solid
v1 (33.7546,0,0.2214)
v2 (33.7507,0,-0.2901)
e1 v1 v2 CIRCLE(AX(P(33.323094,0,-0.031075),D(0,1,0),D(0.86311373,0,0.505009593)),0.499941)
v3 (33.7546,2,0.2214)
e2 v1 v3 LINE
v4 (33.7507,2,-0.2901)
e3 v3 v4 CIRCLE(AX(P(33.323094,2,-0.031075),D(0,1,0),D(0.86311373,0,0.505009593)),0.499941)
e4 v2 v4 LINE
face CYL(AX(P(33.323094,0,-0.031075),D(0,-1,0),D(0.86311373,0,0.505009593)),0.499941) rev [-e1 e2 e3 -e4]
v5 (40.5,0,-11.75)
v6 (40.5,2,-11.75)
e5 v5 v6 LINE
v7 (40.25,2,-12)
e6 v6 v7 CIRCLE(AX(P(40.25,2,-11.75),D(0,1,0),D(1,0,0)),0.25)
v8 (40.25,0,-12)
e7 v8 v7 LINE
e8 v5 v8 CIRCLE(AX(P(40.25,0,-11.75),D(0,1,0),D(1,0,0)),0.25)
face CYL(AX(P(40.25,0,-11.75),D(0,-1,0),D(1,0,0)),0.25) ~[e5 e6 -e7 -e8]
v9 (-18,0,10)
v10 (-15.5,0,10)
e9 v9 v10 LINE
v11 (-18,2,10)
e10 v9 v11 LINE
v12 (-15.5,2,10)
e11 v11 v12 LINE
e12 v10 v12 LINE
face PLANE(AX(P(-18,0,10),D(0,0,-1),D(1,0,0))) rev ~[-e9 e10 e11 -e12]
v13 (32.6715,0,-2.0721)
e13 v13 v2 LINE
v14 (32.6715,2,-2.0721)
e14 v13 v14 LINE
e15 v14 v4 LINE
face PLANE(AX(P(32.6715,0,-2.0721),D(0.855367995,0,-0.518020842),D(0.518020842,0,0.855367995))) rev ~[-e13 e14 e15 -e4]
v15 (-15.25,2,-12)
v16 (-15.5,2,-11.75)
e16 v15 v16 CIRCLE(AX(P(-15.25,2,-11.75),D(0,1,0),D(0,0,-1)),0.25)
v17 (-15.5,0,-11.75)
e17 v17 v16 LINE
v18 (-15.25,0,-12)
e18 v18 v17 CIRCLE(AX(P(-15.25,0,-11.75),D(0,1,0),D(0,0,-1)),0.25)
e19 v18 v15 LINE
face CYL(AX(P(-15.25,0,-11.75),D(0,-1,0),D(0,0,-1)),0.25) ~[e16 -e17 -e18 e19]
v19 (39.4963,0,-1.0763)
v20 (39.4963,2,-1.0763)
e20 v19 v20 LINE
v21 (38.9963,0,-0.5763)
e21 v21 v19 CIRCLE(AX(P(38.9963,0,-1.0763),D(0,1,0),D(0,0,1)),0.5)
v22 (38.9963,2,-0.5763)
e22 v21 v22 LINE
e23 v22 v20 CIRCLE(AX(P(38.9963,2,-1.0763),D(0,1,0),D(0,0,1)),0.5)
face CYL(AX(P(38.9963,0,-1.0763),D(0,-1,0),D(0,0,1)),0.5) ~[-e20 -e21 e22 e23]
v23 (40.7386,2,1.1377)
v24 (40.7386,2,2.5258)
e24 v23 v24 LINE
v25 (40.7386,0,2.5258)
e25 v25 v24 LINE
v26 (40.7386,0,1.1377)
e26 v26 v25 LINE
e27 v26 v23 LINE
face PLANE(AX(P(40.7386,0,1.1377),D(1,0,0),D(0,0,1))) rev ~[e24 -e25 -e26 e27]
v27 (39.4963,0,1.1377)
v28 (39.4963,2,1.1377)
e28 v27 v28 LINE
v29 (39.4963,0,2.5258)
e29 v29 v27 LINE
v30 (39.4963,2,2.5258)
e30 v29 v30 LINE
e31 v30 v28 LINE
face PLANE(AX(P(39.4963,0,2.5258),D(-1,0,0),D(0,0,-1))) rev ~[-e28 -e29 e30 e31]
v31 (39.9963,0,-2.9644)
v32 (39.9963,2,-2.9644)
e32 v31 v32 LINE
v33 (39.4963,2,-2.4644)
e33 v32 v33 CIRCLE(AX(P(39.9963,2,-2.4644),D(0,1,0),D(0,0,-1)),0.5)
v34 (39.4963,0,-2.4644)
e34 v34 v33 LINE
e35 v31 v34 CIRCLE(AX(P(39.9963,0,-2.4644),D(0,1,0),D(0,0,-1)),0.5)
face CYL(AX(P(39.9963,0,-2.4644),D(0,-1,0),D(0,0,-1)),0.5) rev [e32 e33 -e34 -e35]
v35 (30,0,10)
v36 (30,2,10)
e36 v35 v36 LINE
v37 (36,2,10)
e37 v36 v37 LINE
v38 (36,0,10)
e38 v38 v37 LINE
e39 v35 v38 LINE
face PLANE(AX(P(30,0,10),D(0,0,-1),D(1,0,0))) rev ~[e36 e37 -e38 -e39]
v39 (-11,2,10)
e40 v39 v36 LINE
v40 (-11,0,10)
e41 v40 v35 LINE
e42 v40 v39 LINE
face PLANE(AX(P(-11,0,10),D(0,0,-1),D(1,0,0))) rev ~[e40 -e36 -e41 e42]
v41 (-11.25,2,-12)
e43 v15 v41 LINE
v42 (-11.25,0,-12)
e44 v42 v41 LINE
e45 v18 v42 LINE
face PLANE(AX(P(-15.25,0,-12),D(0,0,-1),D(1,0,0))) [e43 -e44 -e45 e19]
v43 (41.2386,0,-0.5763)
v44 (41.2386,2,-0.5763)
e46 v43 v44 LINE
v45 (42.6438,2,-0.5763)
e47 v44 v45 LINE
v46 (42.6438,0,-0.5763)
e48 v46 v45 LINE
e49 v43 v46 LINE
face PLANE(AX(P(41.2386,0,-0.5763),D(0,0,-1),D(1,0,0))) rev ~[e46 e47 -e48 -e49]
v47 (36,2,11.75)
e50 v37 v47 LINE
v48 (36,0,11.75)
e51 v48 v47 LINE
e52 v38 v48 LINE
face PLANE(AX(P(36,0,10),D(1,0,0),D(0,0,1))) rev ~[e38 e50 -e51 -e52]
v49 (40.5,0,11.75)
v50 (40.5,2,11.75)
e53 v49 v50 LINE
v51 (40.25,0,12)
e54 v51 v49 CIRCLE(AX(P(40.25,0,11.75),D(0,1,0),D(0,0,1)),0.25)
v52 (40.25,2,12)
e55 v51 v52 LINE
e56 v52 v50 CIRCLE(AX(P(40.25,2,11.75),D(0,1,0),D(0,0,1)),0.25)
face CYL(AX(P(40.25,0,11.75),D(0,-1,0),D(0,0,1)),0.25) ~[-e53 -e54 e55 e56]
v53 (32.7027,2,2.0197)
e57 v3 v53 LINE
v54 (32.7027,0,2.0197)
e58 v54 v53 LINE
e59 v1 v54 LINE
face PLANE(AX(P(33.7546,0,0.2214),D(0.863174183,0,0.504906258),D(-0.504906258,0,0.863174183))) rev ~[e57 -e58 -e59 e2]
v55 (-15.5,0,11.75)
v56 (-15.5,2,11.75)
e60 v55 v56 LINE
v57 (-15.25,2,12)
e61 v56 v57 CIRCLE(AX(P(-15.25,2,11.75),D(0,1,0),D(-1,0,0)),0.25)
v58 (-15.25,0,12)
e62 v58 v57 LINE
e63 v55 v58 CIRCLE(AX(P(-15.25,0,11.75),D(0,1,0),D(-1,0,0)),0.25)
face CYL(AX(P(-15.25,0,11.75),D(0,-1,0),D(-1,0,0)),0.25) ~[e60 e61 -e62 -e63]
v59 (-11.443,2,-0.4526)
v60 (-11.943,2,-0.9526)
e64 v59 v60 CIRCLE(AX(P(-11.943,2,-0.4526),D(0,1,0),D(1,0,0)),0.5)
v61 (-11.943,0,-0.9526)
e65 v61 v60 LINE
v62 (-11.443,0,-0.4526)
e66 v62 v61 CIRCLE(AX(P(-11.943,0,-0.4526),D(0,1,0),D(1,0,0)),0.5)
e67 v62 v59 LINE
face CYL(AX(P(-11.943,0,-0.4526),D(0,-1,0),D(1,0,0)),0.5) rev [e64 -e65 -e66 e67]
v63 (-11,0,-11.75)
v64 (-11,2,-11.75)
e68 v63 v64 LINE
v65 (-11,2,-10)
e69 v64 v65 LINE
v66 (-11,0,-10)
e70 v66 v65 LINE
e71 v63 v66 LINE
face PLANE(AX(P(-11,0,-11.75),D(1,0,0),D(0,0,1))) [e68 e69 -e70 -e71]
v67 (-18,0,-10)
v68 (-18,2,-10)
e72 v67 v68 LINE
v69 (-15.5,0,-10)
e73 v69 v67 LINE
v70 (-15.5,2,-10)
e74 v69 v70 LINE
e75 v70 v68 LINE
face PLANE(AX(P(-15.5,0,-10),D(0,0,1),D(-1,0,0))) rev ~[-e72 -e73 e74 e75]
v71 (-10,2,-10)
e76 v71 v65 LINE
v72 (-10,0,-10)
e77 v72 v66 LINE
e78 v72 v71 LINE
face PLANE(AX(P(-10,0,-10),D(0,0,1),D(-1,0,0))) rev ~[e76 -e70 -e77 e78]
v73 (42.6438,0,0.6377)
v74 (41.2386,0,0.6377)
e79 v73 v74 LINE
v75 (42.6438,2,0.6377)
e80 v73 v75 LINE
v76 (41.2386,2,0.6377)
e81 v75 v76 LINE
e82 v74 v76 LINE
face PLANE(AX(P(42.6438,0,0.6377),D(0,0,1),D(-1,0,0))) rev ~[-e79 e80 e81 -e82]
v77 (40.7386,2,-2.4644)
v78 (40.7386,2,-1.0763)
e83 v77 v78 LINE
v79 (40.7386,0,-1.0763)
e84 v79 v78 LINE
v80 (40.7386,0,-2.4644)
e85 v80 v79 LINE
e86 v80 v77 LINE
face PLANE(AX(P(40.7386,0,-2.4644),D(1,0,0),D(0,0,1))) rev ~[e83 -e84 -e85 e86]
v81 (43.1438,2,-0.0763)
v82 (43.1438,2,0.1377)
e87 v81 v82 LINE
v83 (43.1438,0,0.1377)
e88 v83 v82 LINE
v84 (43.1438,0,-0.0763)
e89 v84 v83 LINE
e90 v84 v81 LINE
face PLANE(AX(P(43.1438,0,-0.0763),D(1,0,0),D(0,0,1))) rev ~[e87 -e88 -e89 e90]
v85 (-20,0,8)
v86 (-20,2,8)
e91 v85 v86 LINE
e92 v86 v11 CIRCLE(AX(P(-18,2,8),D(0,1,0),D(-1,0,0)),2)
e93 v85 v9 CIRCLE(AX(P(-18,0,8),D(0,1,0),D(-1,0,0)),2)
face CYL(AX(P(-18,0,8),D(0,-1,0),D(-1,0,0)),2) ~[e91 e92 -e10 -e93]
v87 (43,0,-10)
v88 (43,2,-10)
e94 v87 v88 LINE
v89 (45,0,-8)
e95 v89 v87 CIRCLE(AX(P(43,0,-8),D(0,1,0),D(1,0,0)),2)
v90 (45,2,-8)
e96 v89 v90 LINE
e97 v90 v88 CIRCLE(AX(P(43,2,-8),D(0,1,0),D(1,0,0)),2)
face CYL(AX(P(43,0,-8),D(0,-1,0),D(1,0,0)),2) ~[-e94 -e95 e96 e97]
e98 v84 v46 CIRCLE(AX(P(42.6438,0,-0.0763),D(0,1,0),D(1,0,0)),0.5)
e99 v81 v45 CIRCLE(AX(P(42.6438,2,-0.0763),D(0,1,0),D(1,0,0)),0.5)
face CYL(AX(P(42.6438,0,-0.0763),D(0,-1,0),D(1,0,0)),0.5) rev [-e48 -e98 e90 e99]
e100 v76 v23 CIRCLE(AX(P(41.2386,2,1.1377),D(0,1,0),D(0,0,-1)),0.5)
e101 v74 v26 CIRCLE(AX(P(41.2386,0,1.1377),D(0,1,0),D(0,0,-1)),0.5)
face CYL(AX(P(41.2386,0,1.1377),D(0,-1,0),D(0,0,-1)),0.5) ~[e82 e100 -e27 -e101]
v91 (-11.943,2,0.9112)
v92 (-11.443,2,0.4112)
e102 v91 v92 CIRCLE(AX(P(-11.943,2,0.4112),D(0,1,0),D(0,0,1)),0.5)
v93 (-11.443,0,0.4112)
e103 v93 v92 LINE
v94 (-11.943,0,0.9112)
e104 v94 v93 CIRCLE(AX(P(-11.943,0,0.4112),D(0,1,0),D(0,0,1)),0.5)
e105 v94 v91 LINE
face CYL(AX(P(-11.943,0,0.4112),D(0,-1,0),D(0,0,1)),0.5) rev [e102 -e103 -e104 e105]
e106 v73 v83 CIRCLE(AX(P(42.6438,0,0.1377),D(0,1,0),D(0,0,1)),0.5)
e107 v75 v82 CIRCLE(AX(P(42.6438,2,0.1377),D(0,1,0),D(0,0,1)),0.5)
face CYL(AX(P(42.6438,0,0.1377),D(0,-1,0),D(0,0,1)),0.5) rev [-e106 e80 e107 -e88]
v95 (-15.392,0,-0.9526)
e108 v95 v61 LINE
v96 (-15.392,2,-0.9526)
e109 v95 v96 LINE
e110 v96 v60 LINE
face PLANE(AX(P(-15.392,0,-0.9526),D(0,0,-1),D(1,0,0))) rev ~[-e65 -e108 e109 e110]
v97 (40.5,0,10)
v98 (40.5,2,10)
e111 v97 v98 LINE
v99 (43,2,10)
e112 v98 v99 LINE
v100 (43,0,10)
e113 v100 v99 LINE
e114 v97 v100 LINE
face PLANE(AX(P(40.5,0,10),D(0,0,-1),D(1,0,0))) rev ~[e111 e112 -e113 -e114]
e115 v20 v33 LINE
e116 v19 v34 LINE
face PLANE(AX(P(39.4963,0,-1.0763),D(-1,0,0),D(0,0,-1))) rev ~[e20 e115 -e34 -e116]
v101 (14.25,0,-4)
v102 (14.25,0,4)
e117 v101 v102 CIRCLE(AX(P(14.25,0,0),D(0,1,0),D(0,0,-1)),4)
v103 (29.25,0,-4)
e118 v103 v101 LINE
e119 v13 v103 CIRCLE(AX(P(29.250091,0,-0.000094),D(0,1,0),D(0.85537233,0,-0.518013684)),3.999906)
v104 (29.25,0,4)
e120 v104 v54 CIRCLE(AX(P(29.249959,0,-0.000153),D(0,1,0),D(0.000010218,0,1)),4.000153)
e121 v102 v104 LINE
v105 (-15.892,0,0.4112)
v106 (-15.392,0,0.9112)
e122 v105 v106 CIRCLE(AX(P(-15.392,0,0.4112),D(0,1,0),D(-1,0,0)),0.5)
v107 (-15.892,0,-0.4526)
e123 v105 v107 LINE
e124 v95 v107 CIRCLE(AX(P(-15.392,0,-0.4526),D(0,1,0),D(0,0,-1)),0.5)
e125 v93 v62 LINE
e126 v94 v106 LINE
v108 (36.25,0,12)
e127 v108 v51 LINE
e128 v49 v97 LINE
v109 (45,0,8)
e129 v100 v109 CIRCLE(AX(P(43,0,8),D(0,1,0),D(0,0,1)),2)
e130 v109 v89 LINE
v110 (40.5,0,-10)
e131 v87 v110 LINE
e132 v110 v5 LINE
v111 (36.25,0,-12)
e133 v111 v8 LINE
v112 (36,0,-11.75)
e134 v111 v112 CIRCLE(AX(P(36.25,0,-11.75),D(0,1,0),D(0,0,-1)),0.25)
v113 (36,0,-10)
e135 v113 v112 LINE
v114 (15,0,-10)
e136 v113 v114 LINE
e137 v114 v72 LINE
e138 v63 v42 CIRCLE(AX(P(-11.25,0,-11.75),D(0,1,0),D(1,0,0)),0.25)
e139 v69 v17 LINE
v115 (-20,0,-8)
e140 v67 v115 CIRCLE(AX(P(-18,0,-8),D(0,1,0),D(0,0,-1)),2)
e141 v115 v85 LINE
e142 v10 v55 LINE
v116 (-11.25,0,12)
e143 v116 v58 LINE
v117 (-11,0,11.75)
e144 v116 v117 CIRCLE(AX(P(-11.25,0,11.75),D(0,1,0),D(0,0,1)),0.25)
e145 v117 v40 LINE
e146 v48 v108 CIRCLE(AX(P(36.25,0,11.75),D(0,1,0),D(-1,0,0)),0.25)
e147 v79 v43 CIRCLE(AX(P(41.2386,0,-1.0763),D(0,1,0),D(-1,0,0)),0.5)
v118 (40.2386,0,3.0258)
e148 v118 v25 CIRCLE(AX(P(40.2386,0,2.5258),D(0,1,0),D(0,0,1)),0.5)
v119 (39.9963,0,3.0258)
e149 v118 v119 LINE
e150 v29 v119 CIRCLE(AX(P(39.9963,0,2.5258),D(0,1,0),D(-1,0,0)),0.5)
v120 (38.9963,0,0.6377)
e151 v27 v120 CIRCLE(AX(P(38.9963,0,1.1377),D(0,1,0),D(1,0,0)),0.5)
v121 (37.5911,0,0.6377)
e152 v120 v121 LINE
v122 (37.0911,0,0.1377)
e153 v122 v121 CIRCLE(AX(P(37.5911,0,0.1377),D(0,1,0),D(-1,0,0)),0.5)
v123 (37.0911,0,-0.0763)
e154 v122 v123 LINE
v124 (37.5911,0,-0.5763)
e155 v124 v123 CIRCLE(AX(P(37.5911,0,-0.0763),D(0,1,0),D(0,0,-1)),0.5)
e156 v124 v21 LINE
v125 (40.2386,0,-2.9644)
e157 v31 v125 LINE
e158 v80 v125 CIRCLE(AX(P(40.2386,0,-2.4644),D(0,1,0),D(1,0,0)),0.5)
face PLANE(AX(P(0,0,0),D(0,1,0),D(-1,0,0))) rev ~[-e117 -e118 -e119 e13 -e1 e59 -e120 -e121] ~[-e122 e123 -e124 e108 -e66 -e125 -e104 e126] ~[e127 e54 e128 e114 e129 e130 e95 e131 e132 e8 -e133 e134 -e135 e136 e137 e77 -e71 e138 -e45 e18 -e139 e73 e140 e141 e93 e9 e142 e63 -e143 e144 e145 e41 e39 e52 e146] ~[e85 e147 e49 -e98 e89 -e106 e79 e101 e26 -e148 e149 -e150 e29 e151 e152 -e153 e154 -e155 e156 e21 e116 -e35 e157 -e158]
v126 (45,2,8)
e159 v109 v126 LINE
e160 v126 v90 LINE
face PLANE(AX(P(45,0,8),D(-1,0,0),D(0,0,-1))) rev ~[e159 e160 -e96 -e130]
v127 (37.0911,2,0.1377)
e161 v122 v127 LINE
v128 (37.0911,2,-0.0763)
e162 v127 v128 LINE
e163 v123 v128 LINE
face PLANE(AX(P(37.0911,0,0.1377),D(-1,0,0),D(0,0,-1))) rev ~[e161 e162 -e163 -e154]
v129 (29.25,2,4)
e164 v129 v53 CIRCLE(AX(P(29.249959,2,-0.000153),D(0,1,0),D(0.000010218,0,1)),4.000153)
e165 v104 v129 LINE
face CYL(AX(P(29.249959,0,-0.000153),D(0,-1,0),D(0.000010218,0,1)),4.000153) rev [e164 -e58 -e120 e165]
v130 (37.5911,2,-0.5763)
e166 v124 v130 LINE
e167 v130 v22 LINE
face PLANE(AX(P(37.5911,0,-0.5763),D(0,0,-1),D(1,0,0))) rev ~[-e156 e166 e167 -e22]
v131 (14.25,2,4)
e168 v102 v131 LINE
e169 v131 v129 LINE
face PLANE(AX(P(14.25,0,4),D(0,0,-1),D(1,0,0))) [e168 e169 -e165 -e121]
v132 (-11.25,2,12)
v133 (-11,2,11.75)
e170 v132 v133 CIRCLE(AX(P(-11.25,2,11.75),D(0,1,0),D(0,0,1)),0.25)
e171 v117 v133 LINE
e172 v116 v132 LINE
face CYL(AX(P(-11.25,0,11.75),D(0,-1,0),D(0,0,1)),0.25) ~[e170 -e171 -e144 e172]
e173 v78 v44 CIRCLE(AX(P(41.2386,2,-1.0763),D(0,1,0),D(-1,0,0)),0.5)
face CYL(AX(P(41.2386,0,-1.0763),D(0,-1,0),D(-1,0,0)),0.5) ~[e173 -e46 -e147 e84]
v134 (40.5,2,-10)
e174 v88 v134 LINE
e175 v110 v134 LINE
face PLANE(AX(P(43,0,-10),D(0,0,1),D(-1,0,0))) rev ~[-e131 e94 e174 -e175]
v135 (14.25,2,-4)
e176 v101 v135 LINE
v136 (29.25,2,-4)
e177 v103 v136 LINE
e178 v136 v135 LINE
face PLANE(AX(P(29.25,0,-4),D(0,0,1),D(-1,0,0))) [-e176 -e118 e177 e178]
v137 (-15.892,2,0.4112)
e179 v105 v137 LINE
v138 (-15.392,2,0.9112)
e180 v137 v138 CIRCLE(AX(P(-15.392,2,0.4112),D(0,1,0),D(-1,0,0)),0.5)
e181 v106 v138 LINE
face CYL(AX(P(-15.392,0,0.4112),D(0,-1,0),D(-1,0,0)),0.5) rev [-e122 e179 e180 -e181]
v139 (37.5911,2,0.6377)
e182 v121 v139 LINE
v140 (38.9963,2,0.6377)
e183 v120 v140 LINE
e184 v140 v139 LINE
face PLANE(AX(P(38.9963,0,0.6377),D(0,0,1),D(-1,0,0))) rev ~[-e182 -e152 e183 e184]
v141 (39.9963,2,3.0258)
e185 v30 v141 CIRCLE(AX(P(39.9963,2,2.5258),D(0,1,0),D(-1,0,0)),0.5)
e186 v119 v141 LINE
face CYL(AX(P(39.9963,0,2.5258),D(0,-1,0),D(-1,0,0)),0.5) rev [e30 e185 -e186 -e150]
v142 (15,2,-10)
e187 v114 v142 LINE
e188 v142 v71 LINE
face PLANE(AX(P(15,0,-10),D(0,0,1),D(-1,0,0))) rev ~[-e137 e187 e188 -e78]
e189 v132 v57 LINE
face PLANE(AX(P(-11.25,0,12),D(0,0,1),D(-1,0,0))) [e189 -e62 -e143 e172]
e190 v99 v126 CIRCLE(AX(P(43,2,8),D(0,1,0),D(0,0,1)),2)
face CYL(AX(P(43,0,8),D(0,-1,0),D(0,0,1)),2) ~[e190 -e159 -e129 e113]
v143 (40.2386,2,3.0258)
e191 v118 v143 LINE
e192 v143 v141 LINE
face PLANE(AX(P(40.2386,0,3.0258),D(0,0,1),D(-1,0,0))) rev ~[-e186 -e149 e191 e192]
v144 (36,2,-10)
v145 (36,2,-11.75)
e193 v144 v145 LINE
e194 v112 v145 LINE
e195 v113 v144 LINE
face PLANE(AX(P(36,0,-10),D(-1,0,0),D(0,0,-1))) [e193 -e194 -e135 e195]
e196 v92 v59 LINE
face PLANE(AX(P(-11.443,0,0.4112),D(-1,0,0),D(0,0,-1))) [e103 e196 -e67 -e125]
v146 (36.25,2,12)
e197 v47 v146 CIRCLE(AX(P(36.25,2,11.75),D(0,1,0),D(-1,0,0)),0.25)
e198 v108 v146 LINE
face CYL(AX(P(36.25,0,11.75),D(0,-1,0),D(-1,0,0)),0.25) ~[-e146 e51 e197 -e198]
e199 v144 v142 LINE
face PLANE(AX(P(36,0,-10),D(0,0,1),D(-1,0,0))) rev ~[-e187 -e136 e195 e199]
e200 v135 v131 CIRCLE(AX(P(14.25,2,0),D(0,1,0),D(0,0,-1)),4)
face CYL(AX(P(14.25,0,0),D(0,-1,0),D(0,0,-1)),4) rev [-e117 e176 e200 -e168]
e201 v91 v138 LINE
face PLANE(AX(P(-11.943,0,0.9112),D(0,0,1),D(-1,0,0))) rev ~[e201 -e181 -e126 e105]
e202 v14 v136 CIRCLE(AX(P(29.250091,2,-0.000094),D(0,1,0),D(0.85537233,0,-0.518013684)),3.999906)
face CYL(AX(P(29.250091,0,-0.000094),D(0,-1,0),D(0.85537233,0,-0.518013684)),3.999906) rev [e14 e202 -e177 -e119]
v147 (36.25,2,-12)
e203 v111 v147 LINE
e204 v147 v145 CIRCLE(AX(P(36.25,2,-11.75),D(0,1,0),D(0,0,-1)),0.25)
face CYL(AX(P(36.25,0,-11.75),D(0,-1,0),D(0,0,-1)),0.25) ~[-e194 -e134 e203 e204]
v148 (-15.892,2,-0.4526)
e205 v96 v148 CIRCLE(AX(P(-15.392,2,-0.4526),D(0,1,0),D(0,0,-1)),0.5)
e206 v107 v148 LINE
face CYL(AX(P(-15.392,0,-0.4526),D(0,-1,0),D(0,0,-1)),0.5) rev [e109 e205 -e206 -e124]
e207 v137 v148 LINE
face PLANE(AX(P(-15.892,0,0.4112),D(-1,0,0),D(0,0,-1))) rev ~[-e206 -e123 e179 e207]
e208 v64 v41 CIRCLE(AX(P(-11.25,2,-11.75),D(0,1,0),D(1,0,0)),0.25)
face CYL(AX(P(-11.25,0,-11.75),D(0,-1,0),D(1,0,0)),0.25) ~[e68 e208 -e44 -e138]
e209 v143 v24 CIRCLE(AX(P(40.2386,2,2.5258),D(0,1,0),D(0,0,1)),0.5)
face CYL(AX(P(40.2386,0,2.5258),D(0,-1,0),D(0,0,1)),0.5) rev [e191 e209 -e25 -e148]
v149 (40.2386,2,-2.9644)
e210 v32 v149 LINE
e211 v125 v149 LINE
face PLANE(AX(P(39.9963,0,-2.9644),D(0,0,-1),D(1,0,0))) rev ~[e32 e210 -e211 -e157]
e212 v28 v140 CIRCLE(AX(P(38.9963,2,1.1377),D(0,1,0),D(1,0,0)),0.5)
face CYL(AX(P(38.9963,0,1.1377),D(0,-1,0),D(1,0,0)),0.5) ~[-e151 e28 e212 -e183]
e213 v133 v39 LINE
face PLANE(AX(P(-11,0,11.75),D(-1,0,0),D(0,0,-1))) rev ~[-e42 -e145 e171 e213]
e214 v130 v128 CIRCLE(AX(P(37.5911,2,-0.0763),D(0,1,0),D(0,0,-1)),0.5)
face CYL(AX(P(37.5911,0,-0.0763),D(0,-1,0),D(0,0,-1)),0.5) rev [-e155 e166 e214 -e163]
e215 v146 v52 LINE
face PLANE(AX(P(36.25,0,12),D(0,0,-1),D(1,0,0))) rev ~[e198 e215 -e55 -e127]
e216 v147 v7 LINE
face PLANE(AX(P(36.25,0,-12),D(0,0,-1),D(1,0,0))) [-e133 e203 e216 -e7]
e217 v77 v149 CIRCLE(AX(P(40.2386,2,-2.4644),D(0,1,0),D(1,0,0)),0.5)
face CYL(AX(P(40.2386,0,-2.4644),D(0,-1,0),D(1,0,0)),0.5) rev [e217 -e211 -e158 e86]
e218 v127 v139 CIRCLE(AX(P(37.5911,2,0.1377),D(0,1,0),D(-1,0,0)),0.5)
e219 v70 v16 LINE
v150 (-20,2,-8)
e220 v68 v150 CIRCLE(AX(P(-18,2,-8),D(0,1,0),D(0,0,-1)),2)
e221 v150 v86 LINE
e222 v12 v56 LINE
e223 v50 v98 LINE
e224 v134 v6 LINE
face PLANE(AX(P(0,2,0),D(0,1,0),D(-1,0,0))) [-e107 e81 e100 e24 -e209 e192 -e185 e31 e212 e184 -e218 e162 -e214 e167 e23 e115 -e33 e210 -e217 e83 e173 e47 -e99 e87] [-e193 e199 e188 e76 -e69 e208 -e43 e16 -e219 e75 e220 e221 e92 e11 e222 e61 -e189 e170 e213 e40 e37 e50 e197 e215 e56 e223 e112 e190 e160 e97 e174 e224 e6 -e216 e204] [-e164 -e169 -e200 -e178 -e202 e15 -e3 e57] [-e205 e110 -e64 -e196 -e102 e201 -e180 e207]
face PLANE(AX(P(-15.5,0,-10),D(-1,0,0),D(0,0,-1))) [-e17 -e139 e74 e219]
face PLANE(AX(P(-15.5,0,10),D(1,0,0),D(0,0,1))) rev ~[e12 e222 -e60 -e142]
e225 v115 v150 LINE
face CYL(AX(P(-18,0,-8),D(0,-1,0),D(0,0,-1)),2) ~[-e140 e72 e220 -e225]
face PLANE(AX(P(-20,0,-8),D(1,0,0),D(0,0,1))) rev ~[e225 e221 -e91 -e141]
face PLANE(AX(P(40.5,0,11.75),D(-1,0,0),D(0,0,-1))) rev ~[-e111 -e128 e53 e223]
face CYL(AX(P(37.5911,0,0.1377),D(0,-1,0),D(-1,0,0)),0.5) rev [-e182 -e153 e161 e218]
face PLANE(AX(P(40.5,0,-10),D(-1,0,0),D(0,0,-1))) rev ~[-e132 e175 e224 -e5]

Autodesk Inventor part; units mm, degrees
ref_plane "YZ Plane" through (0, 0, 0) normal (1, 0, 0) x (0, 1, 0)
ref_plane "XZ Plane" through (0, 0, 0) normal (0, 1, 0) x (-1, 0, 0)
ref_plane "XY Plane" through (0, 0, 0) normal (0, 0, 1) x (1, 0, 0)
sketch "Sketch1" plane through (0, 0, 0) normal (0, 1, 0) x (-1, 0, 0)
  line L0 (15.892, 0.4112) -> (15.892, -0.4526)
  line L1 (15.392, -0.9526) -> (11.943, -0.9526)
  line L2 (11.943, 0.9112) -> (15.392, 0.9112)
  line L3 (15.392, 0.9112) -> (11.943, 0.9112)
  line L4 (15.892, -0.4526) -> (15.892, 0.4112)
  line L5 (15.392, -0.9526) -> (11.943, -0.9526)
  line L6 (11.943, -0.9526) -> (15.392, -0.9526)
  line L7 (-39.4963, 2.5258) -> (-39.4963, 1.1377)
  line L8 (-39.4963, -1.0763) -> (-39.4963, -2.4644)
  line L9 (-42.6438, 0.6377) -> (-41.2386, 0.6377)
  line L10 (-38.9963, 0.6377) -> (-37.5911, 0.6377)
  line L11 (-40.7386, -2.4644) -> (-40.7386, -1.0763)
  line L12 (-40.7386, 1.1377) -> (-40.7386, 2.5258)
  line L13 (-37.5911, -0.5763) -> (-38.9963, -0.5763)
  line L14 (-41.2386, -0.5763) -> (-42.6438, -0.5763)
  line L15 (-37.0911, 0.1377) -> (-37.0911, -0.0763)
  line L16 (-39.9963, -2.9644) -> (-40.2386, -2.9644)
  line L17 (-43.1438, -0.0763) -> (-43.1438, 0.1377)
  line L18 (-40.2386, 3.0258) -> (-39.9963, 3.0258)
  arc A0 (-39.4963, 2.5258) -> (-39.9963, 3.0258) centre (-39.9963, 2.5258) ccw
  arc A1 (-40.2386, 3.0258) -> (-40.7386, 2.5258) centre (-40.2386, 2.5258) ccw
  arc A2 (-41.2386, 0.6377) -> (-40.7386, 1.1377) centre (-41.2386, 1.1377) ccw
  arc A3 (-42.6438, 0.6377) -> (-43.1438, 0.1377) centre (-42.6438, 0.1377) ccw
  arc A4 (-43.1438, -0.0763) -> (-42.6438, -0.5763) centre (-42.6438, -0.0763) ccw
  arc A5 (-40.7386, -1.0763) -> (-41.2386, -0.5763) centre (-41.2386, -1.0763) ccw
  arc A6 (-40.7386, -2.4644) -> (-40.2386, -2.9644) centre (-40.2386, -2.4644) ccw
  arc A7 (-39.9963, -2.9644) -> (-39.4963, -2.4644) centre (-39.9963, -2.4644) ccw
  arc A8 (-38.9963, -0.5763) -> (-39.4963, -1.0763) centre (-38.9963, -1.0763) ccw
  arc A9 (-39.4963, 1.1377) -> (-38.9963, 0.6377) centre (-38.9963, 1.1377) ccw
  arc A10 (-37.0911, 0.1377) -> (-37.5911, 0.6377) centre (-37.5911, 0.1377) ccw
  arc A11 (-37.5911, -0.5763) -> (-37.0911, -0.0763) centre (-37.5911, -0.0763) ccw
  line L19 (-45, 8) -> (-45, -8)
  line L20 (11.443, 0.4112) -> (11.443, -0.4526)
  arc A12 (15.392, -0.9526) -> (15.892, -0.4526) centre (15.392, -0.4526) ccw
  arc A13 (15.892, 0.4112) -> (15.392, 0.9112) centre (15.392, 0.4112) ccw
  arc A14 (11.943, 0.9112) -> (11.443, 0.4112) centre (11.943, 0.4112) ccw
  arc A15 (11.443, -0.4526) -> (11.943, -0.9526) centre (11.943, -0.4526) ccw
  arc A16 (-43, 10) -> (-45, 8) centre (-43, 8) ccw
  arc A17 (-45, -8) -> (-43, -10) centre (-43, -8) ccw
  line L21 (-29.25, -2) -> (-29.25, 2) construction
  line L22 (-15, -10) -> (11, -10)
  line L23 (15.5, -10) -> (18, -10)
  line L24 (18, 10) -> (15.5, 10)
  line L25 (11, 10) -> (-30, 10)
  line L26 (-15, -10) -> (10, -10)
  line L27 (-12.5, 7) -> (-12.5, 30.9822) construction
  line L28 (-12.5, -7) -> (-12.5, -36.1495) construction
  line L29 (-30, 10) -> (-36, 10)
  line L30 (-40.5, 10) -> (-43, 10)
  line L31 (-43, -10) -> (-40.5, -10)
  line L32 (-36, -10) -> (-15, -10)
  line L33 (-43.1438, 0) -> (-43.1438, -0.0763) construction
  line L34 (-43, -10) -> (-43, -10) construction
  line L35 (20, -8) -> (20, 8)
  arc A18 (18, -10) -> (20, -8) centre (18, -8) ccw
  arc A19 (20, 8) -> (18, 10) centre (18, 8) ccw
  line L36 (15.5, -10) -> (18, -10)
  line L37 (18, 10) -> (15.5, 10)
  line L38 (15.5, -10) -> (15.5, -11.75)
  line L39 (15.25, -12) -> (11.25, -12)
  line L40 (11, -11.75) -> (11, -10)
  line L41 (15.5, 10) -> (15.5, 11.75)
  line L42 (11, 11.75) -> (11, 10)
  line L43 (-36, 10) -> (-36, 11.75)
  line L44 (-36.25, 12) -> (-40.25, 12)
  line L45 (-40.5, 11.75) -> (-40.5, 10)
  line L46 (-36, -10) -> (-36, -11.75)
  line L47 (-36.25, -12) -> (-40.25, -12)
  line L48 (-40.5, -10) -> (-40.5, -11.75)
  arc A20 (-36, 11.75) -> (-36.25, 12) centre (-36.25, 11.75) ccw
  arc A21 (-40.25, 12) -> (-40.5, 11.75) centre (-40.25, 11.75) ccw
  arc A22 (-40.5, -11.75) -> (-40.25, -12) centre (-40.25, -11.75) ccw
  arc A23 (-36.25, -12) -> (-36, -11.75) centre (-36.25, -11.75) ccw
  arc A24 (15.25, -12) -> (15.5, -11.75) centre (15.25, -11.75) ccw
  arc A25 (11, -11.75) -> (11.25, -12) centre (11.25, -11.75) ccw
  arc A26 (15.5, 11.75) -> (15.25, 12) centre (15.25, 11.75) ccw
  arc A27 (11.25, 12) -> (11, 11.75) centre (11.25, 11.75) ccw
  line L49 (11.25, 12) -> (15.25, 12)
  line L50 (-29.25, 0) -> (-14.25, 0) construction
  line L51 (-29.25, 0) -> (-14.25, 0) construction
  line L52 (-29.25, -4) -> (-14.25, -4)
  line L53 (-14.25, 4) -> (-29.25, 4)
  arc A28 (-14.25, -4) -> (-14.25, 4) centre (-14.25, 0) ccw
  line L54 (-32.6715, -2.0721) -> (-33.7507, -0.2901)
  line L55 (-33.7546, 0.2214) -> (-32.7027, 2.0197)
  arc A29 (-29.25, 4) -> (-32.7027, 2.0197) centre (-29.25, 0) ccw
  arc A30 (-32.6715, -2.0721) -> (-29.25, -4) centre (-29.25, 0) ccw
  arc A31 (-33.7546, 0.2214) -> (-33.7507, -0.2901) centre (-33.323, -0.0311) ccw
  point P0 (15.5, -12)
  point P1 (15.5, 12)
  point P2 (11, 12)
  point P3 (-36, 12)
  point P4 (-40.5, 12)
  point P5 (-36, -12)
  point P6 (-40.5, -12)
  point P7 (-21.75, 0)
  dimension "d2" = 0.5
  dimension "d4" = 0.5
  dimension "d38" = 2
  dimension "d40" = 0.25
  dimension "d41" = 47
  dimension "d42" = 47
  dimension "d43" = 56
  dimension "d44" = 15
  dimension "d45" = 15.75
  dimension "d46" = 8
  dimension "d47" = 0.5
extrude "Extrusion1" add sketch "Sketch1" along normal blind 2
properties part number "Laser-Slot-Bottom" material "Acrylic, Clear"
